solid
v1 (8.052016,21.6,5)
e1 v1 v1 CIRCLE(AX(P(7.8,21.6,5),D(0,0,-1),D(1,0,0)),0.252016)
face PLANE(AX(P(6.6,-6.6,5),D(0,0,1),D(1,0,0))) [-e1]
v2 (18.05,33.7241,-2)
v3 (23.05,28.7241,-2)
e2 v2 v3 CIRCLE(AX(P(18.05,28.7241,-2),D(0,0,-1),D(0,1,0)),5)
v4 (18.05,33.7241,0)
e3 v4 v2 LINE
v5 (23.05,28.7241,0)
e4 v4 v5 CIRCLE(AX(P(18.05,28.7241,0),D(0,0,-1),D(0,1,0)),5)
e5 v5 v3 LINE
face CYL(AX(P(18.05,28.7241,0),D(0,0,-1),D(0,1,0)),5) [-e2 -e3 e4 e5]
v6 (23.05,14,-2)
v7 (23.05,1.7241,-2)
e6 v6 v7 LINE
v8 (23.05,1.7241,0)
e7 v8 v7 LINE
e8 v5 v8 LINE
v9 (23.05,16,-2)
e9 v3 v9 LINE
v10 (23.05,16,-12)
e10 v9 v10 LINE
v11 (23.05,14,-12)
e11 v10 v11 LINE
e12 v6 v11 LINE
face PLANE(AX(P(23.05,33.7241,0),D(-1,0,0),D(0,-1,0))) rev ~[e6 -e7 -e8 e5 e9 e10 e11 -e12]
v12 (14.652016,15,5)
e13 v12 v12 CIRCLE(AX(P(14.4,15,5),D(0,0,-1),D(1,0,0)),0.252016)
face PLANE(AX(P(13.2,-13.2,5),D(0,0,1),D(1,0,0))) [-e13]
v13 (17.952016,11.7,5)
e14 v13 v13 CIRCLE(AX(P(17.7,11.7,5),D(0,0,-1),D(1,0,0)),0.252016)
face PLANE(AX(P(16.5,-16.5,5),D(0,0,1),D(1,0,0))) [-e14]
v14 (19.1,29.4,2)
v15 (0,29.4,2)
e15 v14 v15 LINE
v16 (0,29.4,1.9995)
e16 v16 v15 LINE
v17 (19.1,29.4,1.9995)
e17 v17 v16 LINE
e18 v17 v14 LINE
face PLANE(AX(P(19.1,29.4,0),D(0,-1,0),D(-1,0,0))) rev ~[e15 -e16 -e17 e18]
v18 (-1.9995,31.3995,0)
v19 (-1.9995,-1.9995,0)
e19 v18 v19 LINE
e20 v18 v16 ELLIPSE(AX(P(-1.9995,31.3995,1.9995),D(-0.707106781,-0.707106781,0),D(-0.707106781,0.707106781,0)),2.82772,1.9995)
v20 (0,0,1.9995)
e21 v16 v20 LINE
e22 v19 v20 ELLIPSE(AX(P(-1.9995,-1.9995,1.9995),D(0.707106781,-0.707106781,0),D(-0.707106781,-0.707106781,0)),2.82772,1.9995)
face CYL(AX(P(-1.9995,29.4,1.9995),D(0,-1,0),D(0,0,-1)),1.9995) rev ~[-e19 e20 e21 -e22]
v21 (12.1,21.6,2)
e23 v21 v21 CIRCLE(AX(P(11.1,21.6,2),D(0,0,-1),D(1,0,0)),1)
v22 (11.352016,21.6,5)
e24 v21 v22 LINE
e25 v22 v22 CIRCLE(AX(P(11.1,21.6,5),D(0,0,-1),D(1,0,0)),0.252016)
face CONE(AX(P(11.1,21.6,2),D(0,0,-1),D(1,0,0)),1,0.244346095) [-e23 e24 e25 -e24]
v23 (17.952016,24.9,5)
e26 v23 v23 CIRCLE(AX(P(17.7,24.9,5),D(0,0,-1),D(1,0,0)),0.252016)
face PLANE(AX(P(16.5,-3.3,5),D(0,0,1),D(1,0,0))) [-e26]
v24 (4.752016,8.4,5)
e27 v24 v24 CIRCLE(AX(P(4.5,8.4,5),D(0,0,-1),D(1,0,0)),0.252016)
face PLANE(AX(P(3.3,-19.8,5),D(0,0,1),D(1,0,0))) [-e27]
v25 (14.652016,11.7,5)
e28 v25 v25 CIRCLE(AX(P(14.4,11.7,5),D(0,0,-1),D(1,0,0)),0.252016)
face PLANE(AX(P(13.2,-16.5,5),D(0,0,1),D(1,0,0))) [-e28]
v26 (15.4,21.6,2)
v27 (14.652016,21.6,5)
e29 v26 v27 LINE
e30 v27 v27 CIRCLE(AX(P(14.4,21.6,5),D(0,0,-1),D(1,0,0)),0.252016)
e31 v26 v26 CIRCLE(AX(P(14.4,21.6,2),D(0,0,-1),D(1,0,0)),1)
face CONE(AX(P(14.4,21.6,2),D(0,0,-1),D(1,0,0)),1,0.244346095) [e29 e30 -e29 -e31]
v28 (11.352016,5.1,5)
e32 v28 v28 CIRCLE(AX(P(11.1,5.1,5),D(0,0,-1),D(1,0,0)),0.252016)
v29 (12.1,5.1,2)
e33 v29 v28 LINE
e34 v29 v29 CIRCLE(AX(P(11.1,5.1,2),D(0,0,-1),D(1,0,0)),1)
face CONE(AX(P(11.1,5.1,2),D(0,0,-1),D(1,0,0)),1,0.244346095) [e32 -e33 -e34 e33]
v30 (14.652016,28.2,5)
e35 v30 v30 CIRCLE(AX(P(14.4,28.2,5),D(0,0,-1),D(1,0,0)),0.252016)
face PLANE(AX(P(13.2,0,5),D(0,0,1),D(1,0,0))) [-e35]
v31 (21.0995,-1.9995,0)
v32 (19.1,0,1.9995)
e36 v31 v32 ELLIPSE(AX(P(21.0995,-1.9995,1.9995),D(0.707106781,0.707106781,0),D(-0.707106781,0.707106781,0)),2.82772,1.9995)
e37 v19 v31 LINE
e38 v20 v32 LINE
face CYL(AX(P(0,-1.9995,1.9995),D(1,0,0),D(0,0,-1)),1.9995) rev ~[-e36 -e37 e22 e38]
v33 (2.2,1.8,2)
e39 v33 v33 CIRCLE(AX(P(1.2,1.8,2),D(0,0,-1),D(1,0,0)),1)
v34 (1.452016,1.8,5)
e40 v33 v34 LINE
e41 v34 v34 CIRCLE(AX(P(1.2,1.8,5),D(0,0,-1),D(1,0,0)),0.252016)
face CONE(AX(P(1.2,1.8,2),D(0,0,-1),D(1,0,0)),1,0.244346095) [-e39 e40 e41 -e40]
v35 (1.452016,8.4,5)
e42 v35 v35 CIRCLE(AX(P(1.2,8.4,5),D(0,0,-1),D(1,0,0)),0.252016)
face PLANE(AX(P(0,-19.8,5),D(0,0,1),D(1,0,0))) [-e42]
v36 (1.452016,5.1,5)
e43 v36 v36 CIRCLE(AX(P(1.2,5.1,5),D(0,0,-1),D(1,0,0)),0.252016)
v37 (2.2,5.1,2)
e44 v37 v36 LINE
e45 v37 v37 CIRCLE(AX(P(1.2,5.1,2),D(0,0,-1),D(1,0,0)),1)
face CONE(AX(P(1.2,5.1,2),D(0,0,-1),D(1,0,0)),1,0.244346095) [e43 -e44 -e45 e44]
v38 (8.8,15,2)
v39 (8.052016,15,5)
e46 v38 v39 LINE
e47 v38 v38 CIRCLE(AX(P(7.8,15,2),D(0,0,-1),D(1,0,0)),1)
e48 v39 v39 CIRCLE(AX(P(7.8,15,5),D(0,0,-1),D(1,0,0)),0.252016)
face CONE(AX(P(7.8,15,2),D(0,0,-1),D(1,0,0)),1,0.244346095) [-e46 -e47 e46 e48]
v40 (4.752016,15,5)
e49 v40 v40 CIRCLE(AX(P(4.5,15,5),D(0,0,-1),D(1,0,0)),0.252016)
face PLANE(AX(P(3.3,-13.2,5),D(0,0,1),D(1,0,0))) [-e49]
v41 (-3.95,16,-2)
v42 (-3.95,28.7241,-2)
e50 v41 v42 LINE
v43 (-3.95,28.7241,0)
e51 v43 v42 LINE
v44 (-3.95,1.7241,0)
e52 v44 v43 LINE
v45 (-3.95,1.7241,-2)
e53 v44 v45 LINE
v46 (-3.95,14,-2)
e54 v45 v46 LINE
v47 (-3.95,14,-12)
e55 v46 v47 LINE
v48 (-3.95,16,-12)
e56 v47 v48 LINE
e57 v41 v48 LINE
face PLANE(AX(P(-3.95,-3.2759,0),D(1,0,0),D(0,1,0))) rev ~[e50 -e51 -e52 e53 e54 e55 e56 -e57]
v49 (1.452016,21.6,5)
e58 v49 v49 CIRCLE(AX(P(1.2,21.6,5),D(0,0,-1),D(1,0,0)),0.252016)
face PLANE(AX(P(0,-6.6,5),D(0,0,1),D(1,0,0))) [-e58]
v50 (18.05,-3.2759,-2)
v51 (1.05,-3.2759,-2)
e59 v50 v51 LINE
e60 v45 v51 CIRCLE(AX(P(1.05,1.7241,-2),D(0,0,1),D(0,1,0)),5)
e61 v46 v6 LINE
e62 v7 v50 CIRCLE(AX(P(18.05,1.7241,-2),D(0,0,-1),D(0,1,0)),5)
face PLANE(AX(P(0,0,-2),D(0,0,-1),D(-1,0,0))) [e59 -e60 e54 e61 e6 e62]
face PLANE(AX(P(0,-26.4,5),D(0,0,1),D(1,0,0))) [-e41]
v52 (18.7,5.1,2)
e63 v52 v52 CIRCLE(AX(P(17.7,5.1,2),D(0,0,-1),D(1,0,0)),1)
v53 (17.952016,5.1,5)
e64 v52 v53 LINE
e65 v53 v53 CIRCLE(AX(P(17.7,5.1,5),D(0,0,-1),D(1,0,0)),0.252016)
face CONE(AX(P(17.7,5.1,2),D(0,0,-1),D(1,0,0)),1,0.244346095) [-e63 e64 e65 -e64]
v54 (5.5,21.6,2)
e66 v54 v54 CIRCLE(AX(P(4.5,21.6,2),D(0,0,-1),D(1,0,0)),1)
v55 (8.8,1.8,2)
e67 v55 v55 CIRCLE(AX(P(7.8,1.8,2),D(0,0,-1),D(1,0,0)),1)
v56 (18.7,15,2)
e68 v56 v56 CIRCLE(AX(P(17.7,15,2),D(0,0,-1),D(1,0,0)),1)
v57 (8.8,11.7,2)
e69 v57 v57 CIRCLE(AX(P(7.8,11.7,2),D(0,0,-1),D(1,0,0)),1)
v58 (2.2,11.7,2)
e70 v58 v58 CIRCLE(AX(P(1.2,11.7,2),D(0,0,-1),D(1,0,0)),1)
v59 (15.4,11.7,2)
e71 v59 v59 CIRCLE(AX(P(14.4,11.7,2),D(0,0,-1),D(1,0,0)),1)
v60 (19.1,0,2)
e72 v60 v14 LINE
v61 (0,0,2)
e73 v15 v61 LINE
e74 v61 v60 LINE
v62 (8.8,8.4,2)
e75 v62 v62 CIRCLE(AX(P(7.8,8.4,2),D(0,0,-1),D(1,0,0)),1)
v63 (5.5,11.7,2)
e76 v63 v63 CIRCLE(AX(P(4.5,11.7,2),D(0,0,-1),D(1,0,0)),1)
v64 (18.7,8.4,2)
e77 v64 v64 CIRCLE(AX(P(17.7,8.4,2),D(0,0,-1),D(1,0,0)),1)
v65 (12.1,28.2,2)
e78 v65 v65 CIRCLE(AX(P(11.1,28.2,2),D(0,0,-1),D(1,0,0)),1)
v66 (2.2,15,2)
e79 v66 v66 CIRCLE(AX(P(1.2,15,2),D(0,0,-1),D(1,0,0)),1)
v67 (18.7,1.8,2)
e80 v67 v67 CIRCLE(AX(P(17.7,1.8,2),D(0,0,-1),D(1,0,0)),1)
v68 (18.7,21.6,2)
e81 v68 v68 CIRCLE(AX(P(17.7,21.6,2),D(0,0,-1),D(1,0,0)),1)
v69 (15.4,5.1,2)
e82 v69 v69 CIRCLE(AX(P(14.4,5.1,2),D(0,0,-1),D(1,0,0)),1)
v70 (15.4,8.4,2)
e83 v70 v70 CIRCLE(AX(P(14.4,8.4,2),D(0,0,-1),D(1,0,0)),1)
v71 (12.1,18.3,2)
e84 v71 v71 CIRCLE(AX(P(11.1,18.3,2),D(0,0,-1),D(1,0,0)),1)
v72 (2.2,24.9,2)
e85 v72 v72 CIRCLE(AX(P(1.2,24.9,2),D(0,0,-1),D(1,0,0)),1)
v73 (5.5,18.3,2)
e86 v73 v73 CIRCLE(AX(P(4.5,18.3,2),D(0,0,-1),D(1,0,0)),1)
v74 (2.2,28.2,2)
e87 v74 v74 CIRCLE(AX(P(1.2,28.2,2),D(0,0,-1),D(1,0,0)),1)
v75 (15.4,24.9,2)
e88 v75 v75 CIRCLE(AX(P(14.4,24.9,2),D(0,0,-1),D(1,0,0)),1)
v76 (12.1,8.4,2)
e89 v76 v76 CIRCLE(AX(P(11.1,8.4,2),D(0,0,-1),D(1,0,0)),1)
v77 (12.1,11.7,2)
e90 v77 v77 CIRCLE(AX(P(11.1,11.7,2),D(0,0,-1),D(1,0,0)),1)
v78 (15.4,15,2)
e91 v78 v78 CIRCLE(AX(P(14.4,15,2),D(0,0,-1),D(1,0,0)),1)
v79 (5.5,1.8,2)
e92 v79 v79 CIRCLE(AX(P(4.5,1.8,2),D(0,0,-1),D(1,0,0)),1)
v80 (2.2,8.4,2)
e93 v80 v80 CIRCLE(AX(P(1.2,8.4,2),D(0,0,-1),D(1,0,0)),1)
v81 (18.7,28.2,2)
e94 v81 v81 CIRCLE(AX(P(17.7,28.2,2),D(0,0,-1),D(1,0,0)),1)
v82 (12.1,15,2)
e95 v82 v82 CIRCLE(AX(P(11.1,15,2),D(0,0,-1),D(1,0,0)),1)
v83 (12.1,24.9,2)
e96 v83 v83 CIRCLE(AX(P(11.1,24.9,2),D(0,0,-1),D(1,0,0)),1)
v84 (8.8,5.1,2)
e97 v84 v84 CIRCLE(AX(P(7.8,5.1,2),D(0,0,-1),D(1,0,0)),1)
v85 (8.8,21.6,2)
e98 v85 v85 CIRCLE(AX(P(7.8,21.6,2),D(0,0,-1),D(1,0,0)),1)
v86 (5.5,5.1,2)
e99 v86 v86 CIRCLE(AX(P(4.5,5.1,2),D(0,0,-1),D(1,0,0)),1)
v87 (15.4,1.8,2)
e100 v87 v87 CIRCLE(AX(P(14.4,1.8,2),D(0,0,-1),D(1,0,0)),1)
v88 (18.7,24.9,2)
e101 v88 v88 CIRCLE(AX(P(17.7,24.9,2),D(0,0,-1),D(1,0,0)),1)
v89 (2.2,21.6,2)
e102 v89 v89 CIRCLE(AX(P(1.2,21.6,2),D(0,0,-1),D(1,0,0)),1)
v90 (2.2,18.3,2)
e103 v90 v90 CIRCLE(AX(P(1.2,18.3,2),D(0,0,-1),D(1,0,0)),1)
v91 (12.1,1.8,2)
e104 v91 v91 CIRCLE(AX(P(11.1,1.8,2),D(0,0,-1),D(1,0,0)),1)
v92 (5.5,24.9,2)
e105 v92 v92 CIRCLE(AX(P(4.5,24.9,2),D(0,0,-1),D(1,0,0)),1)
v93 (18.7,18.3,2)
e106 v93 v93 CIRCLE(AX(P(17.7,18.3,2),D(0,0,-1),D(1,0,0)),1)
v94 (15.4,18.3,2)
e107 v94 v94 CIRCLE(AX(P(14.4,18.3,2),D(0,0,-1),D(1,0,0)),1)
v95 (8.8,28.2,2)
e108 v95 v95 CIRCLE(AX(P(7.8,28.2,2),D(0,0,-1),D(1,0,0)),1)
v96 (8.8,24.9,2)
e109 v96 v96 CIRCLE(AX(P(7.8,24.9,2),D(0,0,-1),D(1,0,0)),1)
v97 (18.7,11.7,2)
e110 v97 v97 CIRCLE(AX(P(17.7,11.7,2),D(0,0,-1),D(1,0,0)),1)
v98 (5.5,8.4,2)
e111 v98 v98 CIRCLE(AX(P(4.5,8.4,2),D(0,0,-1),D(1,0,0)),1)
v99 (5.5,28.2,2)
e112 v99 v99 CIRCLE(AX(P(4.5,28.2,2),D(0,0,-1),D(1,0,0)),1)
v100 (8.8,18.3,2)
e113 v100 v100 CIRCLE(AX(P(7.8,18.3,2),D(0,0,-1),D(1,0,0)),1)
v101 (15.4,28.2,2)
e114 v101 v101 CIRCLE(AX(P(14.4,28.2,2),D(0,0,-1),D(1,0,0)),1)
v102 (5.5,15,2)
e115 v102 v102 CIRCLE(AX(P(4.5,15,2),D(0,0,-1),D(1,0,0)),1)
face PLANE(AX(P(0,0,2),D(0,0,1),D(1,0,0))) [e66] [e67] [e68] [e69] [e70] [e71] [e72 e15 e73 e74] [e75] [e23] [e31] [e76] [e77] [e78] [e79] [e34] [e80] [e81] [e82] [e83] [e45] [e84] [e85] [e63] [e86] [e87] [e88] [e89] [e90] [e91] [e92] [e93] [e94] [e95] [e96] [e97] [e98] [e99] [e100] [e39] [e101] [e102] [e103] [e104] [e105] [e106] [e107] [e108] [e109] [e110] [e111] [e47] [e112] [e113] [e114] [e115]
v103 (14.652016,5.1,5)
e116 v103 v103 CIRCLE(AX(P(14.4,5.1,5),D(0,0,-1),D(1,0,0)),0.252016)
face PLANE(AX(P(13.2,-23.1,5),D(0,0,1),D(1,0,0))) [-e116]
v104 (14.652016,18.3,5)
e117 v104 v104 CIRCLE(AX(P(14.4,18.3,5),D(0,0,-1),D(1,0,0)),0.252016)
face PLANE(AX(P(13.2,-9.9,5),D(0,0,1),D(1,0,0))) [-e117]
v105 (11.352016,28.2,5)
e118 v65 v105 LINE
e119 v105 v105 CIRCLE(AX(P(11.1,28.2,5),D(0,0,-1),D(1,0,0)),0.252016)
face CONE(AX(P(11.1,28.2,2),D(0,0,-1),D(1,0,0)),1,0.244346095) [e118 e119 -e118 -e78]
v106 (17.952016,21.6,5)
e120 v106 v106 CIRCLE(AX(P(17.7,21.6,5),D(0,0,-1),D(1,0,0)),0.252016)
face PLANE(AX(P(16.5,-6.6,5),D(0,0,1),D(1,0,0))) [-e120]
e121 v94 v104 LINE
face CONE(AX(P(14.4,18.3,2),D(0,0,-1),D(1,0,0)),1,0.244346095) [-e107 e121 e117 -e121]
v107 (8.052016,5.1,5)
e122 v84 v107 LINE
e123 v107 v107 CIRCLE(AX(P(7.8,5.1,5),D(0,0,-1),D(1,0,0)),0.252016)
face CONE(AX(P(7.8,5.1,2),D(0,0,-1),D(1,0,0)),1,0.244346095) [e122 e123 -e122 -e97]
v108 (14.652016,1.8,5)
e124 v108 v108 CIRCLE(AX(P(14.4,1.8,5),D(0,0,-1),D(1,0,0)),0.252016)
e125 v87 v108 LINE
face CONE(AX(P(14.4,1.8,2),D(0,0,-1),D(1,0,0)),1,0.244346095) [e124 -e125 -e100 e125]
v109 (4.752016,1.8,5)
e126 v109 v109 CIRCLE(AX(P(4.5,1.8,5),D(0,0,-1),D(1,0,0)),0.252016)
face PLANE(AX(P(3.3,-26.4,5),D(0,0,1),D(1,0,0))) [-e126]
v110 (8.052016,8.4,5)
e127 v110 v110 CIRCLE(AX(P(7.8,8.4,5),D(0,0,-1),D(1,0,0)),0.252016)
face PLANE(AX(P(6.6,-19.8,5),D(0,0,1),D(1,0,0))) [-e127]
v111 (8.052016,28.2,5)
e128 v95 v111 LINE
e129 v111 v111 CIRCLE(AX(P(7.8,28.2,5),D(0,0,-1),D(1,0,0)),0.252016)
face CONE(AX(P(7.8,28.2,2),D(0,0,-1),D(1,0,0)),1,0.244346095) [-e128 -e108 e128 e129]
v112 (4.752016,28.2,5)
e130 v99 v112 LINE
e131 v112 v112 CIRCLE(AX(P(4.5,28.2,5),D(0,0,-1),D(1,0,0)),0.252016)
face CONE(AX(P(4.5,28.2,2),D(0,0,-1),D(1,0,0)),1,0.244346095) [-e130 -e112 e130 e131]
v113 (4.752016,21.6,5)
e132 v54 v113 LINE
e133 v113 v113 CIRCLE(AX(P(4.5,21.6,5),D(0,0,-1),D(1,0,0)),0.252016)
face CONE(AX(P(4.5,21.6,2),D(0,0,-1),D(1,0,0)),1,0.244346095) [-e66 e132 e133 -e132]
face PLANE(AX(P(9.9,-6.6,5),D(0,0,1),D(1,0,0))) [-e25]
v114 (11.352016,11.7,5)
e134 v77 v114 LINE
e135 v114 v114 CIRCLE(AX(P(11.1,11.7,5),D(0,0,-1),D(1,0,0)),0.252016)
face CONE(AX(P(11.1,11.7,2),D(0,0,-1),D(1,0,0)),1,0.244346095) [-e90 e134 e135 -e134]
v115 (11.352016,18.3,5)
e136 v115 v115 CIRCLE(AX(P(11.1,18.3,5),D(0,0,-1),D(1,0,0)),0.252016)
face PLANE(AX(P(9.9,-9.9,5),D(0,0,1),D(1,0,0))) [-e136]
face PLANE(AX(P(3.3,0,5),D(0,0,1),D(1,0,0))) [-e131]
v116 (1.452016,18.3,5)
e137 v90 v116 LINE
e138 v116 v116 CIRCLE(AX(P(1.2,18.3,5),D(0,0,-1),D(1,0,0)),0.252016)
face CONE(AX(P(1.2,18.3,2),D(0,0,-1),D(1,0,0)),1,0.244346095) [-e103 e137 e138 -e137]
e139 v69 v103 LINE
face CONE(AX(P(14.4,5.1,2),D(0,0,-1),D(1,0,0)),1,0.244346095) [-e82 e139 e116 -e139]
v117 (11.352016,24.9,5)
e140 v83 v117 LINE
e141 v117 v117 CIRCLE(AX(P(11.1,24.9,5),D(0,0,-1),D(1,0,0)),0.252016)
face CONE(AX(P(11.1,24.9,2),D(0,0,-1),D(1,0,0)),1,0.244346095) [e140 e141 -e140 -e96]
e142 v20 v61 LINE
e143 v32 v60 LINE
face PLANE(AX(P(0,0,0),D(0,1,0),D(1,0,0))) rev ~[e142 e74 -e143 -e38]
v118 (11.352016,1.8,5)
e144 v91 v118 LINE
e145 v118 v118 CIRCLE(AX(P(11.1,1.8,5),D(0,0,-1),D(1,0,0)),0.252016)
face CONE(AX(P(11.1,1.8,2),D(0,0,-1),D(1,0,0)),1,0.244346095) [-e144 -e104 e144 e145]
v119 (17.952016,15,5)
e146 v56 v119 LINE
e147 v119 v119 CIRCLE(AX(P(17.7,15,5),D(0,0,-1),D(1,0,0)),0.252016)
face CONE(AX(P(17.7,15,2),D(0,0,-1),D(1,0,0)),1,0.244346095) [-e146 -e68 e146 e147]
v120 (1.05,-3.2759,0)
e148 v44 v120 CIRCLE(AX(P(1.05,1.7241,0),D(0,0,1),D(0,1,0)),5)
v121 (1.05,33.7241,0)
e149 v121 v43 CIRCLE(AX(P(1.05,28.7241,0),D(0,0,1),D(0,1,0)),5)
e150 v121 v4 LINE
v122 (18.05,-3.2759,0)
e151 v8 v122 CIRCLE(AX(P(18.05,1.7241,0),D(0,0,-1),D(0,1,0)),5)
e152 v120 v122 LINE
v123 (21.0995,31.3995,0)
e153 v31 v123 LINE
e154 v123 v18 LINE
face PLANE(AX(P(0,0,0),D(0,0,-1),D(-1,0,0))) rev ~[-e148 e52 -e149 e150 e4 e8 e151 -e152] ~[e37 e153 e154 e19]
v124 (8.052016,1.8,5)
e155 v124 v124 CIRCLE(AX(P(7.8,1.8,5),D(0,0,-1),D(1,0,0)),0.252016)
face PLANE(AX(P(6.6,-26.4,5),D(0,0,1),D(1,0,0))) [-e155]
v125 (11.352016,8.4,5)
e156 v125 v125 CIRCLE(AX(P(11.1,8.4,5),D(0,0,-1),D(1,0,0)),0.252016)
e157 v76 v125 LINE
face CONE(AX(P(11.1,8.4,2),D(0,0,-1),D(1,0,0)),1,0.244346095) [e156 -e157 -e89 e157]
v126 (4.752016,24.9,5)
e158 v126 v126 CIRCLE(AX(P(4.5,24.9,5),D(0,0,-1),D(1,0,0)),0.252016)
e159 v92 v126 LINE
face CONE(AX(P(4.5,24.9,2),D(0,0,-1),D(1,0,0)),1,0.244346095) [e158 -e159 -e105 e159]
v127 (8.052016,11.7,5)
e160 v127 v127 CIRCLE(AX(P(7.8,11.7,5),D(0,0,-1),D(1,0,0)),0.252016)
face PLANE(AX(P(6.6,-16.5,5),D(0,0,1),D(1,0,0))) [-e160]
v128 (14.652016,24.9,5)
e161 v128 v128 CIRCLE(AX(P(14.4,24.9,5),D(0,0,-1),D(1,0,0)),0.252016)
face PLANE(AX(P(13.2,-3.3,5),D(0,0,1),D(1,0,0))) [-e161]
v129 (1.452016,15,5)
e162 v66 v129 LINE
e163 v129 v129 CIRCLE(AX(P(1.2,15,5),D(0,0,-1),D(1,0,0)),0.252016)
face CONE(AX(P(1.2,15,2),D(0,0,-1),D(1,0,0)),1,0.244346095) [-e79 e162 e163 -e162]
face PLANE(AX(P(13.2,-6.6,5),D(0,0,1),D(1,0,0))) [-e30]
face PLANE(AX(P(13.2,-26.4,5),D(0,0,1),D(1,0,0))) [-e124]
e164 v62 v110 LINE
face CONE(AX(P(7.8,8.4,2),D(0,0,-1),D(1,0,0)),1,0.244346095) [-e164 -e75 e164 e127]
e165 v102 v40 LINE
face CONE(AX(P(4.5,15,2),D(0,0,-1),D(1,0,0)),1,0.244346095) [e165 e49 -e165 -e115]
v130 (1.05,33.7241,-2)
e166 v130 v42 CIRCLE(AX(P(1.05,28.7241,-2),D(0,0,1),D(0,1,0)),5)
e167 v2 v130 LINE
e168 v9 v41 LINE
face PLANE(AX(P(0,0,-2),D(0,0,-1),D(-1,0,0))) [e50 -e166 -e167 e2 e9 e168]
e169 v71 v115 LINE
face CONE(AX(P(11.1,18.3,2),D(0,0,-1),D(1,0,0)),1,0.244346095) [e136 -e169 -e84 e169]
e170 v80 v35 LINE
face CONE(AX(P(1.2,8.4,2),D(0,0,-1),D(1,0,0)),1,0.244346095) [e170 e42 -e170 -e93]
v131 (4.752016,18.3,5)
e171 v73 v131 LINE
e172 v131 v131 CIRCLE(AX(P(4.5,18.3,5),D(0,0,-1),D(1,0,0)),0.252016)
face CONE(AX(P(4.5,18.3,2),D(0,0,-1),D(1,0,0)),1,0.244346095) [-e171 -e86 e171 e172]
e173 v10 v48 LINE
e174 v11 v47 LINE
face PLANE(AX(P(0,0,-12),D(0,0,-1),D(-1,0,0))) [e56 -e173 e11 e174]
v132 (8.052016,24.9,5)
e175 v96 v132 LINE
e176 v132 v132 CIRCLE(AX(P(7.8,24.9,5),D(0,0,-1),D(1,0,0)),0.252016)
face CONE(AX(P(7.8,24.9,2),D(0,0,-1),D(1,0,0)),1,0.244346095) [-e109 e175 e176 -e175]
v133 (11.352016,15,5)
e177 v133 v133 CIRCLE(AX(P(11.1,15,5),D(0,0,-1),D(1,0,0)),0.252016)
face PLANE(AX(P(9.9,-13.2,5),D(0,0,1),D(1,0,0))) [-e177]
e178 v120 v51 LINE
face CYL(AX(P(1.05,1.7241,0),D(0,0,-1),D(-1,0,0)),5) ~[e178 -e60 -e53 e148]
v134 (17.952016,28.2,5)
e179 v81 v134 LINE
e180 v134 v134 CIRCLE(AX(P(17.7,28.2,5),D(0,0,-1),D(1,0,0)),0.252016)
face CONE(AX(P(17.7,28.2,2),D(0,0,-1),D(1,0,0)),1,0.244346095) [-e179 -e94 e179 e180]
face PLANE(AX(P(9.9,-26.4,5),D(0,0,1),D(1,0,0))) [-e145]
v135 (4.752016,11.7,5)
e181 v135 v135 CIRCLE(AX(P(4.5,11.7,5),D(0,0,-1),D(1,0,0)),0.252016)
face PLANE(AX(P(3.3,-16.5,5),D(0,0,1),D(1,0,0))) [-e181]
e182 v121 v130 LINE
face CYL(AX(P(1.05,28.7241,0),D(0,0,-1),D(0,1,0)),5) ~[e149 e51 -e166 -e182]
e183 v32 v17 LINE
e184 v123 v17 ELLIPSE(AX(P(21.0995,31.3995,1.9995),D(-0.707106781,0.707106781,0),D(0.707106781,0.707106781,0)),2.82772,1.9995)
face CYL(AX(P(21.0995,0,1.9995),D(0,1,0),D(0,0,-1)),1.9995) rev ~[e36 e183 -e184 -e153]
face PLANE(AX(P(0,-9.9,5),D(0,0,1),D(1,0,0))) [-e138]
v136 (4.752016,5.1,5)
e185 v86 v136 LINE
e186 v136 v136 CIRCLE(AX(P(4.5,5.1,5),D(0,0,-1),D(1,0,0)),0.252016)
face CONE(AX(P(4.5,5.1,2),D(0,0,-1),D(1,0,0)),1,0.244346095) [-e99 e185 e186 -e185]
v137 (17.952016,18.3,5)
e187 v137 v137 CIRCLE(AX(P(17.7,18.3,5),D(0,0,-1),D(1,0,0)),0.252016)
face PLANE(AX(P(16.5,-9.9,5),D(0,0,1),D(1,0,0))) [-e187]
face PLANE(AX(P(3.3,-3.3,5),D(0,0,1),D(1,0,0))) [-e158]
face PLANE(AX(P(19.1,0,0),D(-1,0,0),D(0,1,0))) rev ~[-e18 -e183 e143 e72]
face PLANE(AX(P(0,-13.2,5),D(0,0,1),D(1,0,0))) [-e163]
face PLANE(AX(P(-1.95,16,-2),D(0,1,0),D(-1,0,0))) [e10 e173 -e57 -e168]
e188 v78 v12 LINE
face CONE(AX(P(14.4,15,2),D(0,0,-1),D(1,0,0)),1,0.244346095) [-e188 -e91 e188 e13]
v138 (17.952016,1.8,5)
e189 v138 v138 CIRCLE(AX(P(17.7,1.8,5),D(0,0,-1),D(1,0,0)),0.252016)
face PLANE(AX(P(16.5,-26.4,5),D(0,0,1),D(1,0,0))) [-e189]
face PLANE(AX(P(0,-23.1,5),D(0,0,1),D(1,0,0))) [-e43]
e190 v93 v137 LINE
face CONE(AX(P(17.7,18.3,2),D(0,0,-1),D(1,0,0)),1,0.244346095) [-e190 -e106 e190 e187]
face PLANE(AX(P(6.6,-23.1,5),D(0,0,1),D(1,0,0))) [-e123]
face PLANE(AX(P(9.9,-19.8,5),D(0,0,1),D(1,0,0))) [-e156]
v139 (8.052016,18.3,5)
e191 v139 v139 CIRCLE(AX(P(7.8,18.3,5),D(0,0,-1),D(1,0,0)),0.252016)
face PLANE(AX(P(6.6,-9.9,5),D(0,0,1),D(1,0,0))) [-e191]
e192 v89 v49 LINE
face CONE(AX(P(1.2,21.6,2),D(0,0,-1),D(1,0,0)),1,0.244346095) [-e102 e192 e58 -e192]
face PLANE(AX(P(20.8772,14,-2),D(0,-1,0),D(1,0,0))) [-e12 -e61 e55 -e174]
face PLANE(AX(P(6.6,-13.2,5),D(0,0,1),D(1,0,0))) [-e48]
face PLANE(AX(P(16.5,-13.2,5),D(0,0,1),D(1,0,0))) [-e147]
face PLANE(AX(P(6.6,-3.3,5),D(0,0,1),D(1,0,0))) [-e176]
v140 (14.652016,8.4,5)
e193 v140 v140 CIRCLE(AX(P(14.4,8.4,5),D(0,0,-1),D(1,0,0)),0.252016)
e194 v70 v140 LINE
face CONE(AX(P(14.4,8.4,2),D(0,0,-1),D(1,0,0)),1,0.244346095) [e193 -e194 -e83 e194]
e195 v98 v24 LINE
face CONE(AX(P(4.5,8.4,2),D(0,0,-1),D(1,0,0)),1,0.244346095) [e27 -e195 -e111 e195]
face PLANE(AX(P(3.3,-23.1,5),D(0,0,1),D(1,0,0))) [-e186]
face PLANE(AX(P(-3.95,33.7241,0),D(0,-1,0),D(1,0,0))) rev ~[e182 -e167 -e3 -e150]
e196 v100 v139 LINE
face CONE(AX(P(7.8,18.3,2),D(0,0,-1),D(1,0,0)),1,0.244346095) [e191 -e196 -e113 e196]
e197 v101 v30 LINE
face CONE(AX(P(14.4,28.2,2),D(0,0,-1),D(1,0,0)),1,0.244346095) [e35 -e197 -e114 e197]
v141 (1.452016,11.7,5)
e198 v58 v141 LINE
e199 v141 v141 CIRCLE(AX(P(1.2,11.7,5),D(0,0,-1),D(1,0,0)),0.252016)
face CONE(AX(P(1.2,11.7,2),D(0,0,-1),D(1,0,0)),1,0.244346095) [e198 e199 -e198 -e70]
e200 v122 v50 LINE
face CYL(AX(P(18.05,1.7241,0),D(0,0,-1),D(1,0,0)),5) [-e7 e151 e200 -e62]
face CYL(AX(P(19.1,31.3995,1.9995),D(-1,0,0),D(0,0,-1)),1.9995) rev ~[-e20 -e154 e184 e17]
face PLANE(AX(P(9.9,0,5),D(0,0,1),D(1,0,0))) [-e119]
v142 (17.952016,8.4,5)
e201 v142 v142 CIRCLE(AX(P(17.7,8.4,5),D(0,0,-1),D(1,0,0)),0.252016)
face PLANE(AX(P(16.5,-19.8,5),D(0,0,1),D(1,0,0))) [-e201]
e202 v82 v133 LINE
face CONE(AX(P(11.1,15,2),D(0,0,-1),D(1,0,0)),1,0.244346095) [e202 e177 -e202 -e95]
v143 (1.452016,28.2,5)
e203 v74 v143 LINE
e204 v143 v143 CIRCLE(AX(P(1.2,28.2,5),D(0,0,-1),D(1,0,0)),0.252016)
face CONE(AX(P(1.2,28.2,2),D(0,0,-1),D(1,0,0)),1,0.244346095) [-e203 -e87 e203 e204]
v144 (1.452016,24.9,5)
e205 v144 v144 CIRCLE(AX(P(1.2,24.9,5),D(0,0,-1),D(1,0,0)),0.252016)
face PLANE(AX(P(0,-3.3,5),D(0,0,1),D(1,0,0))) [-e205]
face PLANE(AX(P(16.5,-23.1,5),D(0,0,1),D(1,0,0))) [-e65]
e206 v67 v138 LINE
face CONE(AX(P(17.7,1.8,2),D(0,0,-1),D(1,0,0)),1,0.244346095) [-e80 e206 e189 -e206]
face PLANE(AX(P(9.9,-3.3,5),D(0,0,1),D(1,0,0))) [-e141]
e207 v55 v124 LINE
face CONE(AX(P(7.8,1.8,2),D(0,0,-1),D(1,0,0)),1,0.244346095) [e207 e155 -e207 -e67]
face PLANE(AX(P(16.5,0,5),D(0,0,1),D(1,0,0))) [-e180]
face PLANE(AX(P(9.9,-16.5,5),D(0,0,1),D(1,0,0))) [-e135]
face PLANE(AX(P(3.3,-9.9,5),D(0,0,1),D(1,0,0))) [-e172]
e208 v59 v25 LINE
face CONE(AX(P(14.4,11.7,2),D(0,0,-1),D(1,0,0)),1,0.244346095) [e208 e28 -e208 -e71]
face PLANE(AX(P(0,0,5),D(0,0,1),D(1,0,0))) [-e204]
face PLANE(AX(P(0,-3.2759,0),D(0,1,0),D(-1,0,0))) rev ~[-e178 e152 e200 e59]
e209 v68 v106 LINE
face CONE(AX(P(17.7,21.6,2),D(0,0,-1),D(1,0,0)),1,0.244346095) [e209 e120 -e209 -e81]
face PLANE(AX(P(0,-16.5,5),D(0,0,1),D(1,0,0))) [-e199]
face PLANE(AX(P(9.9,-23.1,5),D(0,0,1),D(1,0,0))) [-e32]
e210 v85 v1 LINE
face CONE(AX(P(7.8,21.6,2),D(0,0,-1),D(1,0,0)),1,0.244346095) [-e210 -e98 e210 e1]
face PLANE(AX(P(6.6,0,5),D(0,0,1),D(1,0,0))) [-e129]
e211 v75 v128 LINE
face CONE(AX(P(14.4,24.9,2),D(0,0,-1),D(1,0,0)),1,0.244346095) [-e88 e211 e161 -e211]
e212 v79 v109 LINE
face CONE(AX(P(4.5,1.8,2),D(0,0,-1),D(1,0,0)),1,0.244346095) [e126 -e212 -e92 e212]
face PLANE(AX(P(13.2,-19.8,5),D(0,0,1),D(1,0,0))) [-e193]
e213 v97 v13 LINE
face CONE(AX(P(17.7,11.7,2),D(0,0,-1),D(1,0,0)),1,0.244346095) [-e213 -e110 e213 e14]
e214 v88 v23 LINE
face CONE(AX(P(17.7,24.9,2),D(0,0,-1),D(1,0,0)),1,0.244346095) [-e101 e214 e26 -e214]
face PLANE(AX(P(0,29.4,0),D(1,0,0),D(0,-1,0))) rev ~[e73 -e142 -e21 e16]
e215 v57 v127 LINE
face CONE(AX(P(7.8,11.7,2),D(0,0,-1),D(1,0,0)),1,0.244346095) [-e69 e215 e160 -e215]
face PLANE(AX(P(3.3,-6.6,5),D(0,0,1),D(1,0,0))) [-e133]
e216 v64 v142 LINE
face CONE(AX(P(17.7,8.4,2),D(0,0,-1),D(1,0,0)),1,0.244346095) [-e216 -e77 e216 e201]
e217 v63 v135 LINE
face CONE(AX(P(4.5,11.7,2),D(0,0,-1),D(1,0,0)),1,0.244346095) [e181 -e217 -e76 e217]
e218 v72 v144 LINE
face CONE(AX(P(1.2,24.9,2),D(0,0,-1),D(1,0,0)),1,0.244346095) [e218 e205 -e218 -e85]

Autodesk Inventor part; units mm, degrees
ref_plane "YZ Plane" through (0, 0, 0) normal (1, 0, 0) x (0, 1, 0)
sketch "Sketch1" plane through (0, 0, 0) normal (0, 0, 1) x (1, 0, 0)
  line L0 (0, 0) -> (19.1, 0)
  line L1 (19.1, 0) -> (19.1, 29.4)
  line L2 (19.1, 29.4) -> (0, 29.4)
  line L3 (0, 29.4) -> (0, 0)
  dimension "d0" = 19.1
  dimension "d1" = 29.4
extrude "Extrusion1" add sketch "Sketch1" along normal blind 2
sketch "Sketch2" plane through (0, 0, 2) normal (0, 0, 1) x (1, 0, 0)
  line L0 (0, 29.4) -> (0, 0) projected
  circle A0 centre (1.2, 28.2) radius 1
  line L1 (19.1, 29.4) -> (0, 29.4) projected
  dimension "d6" = 2
  dimension "d7" = 1.2
  dimension "d8" = 1.2
ref_plane "Work Plane1" through (0, 0, 5) normal (0, 0, 1) x (1, 0, 0)
ref_plane "Work Plane2" through (0, 0, 4.5) normal (0, 0, 1) x (1, 0, 0)
extrude "Extrusion3" add sketch "Sketch2" along normal blind 3 draft -14
pattern_linear "Rectangular Pattern1" count 6 spacing 3.3 along (1, 0, 0) count 9 spacing 3.3 along (0, -1, 0) of "Extrusion3"
sketch "Sketch6" plane through (0, 0, 0) normal (0, 0, -1) x (-1, 0, 0)
  line L0 (0, 29.4) -> (0, 0) projected
  line L1 (0, 15.2241) -> (0, -3.2759)
  line L2 (0, -3.2759) -> (-19.1, -3.2759)
  line L3 (-19.1, 0) -> (-19.1, 29.4) projected
  line L4 (-19.1, -3.2759) -> (-19.1, 33.7241)
  line L5 (-19.1, 33.7241) -> (0, 33.7241)
  line L6 (0, 33.7241) -> (0, -3.2759)
  line L7 (-9.55, -3.2759) -> (3.95, -3.2759)
  line L8 (3.95, -3.2759) -> (3.95, 33.7241)
  line L9 (3.95, 33.7241) -> (-23.05, 33.7241)
  line L10 (-23.05, 33.7241) -> (-23.05, -3.2759)
  line L11 (-23.05, -3.2759) -> (-19.1, -3.2759)
  dimension "d41" = 13.5
  dimension "d42" = 27
extrude "Extrusion4" add sketch "Sketch6" along normal blind 2
fillet "Fillet3" radius 5 4 edges at (23.05, -3.2759, -1) (-3.95, -3.2759, -1) (23.05, 33.7241, -1) (-3.95, 33.7241, -1)
sketch "Sketch8" plane through (0, 0, -2) normal (0, 0, -1) x (-1, 0, 0)
  line L0 (3.95, 1.7241) -> (3.95, 28.7241)
  line L1 (-23.05, 28.7241) -> (-23.05, 1.7241) projected
  line L2 (1.95, 14) -> (-20.8772, 14)
  line L3 (-20.8772, 16) -> (1.95, 16)
  line L4 (-18.05, -3.2759) -> (-1.05, -3.2759) projected
  line L5 (3.95, 1.7241) -> (3.95, 28.7241) projected
  arc A0 (-18.05, 33.7241) -> (-23.05, 28.7241) centre (-18.05, 28.7241) ccw projected
  line L6 (-1.05, 33.7241) -> (-18.05, 33.7241) projected
  line L7 (-20.8772, 14) -> (-23.05, 14)
  line L8 (-23.05, 28.7241) -> (-23.05, 1.7241) projected
  line L9 (-23.05, 16) -> (-20.8772, 16)
  line L10 (1.95, 14) -> (3.95, 14)
  line L11 (3.95, 1.7241) -> (3.95, 28.7241) projected
  line L12 (3.95, 14) -> (3.95, 16)
  line L13 (1.95, 16) -> (3.95, 16)
  point P0 (0, 0)
  point P1 (-21.05, 1.7241)
  dimension "d50" = 2
extrude "Extrusion5" add sketch "Sketch8" along normal blind 10
fillet "Fillet4" radius 2 4 edges at (19.1, 14.7, 0) (9.55, 29.4, 0) (0, 14.7, 0) (9.55, 0, 0)
properties part number "Mold_equalSpacing_2mm_Handle3"
